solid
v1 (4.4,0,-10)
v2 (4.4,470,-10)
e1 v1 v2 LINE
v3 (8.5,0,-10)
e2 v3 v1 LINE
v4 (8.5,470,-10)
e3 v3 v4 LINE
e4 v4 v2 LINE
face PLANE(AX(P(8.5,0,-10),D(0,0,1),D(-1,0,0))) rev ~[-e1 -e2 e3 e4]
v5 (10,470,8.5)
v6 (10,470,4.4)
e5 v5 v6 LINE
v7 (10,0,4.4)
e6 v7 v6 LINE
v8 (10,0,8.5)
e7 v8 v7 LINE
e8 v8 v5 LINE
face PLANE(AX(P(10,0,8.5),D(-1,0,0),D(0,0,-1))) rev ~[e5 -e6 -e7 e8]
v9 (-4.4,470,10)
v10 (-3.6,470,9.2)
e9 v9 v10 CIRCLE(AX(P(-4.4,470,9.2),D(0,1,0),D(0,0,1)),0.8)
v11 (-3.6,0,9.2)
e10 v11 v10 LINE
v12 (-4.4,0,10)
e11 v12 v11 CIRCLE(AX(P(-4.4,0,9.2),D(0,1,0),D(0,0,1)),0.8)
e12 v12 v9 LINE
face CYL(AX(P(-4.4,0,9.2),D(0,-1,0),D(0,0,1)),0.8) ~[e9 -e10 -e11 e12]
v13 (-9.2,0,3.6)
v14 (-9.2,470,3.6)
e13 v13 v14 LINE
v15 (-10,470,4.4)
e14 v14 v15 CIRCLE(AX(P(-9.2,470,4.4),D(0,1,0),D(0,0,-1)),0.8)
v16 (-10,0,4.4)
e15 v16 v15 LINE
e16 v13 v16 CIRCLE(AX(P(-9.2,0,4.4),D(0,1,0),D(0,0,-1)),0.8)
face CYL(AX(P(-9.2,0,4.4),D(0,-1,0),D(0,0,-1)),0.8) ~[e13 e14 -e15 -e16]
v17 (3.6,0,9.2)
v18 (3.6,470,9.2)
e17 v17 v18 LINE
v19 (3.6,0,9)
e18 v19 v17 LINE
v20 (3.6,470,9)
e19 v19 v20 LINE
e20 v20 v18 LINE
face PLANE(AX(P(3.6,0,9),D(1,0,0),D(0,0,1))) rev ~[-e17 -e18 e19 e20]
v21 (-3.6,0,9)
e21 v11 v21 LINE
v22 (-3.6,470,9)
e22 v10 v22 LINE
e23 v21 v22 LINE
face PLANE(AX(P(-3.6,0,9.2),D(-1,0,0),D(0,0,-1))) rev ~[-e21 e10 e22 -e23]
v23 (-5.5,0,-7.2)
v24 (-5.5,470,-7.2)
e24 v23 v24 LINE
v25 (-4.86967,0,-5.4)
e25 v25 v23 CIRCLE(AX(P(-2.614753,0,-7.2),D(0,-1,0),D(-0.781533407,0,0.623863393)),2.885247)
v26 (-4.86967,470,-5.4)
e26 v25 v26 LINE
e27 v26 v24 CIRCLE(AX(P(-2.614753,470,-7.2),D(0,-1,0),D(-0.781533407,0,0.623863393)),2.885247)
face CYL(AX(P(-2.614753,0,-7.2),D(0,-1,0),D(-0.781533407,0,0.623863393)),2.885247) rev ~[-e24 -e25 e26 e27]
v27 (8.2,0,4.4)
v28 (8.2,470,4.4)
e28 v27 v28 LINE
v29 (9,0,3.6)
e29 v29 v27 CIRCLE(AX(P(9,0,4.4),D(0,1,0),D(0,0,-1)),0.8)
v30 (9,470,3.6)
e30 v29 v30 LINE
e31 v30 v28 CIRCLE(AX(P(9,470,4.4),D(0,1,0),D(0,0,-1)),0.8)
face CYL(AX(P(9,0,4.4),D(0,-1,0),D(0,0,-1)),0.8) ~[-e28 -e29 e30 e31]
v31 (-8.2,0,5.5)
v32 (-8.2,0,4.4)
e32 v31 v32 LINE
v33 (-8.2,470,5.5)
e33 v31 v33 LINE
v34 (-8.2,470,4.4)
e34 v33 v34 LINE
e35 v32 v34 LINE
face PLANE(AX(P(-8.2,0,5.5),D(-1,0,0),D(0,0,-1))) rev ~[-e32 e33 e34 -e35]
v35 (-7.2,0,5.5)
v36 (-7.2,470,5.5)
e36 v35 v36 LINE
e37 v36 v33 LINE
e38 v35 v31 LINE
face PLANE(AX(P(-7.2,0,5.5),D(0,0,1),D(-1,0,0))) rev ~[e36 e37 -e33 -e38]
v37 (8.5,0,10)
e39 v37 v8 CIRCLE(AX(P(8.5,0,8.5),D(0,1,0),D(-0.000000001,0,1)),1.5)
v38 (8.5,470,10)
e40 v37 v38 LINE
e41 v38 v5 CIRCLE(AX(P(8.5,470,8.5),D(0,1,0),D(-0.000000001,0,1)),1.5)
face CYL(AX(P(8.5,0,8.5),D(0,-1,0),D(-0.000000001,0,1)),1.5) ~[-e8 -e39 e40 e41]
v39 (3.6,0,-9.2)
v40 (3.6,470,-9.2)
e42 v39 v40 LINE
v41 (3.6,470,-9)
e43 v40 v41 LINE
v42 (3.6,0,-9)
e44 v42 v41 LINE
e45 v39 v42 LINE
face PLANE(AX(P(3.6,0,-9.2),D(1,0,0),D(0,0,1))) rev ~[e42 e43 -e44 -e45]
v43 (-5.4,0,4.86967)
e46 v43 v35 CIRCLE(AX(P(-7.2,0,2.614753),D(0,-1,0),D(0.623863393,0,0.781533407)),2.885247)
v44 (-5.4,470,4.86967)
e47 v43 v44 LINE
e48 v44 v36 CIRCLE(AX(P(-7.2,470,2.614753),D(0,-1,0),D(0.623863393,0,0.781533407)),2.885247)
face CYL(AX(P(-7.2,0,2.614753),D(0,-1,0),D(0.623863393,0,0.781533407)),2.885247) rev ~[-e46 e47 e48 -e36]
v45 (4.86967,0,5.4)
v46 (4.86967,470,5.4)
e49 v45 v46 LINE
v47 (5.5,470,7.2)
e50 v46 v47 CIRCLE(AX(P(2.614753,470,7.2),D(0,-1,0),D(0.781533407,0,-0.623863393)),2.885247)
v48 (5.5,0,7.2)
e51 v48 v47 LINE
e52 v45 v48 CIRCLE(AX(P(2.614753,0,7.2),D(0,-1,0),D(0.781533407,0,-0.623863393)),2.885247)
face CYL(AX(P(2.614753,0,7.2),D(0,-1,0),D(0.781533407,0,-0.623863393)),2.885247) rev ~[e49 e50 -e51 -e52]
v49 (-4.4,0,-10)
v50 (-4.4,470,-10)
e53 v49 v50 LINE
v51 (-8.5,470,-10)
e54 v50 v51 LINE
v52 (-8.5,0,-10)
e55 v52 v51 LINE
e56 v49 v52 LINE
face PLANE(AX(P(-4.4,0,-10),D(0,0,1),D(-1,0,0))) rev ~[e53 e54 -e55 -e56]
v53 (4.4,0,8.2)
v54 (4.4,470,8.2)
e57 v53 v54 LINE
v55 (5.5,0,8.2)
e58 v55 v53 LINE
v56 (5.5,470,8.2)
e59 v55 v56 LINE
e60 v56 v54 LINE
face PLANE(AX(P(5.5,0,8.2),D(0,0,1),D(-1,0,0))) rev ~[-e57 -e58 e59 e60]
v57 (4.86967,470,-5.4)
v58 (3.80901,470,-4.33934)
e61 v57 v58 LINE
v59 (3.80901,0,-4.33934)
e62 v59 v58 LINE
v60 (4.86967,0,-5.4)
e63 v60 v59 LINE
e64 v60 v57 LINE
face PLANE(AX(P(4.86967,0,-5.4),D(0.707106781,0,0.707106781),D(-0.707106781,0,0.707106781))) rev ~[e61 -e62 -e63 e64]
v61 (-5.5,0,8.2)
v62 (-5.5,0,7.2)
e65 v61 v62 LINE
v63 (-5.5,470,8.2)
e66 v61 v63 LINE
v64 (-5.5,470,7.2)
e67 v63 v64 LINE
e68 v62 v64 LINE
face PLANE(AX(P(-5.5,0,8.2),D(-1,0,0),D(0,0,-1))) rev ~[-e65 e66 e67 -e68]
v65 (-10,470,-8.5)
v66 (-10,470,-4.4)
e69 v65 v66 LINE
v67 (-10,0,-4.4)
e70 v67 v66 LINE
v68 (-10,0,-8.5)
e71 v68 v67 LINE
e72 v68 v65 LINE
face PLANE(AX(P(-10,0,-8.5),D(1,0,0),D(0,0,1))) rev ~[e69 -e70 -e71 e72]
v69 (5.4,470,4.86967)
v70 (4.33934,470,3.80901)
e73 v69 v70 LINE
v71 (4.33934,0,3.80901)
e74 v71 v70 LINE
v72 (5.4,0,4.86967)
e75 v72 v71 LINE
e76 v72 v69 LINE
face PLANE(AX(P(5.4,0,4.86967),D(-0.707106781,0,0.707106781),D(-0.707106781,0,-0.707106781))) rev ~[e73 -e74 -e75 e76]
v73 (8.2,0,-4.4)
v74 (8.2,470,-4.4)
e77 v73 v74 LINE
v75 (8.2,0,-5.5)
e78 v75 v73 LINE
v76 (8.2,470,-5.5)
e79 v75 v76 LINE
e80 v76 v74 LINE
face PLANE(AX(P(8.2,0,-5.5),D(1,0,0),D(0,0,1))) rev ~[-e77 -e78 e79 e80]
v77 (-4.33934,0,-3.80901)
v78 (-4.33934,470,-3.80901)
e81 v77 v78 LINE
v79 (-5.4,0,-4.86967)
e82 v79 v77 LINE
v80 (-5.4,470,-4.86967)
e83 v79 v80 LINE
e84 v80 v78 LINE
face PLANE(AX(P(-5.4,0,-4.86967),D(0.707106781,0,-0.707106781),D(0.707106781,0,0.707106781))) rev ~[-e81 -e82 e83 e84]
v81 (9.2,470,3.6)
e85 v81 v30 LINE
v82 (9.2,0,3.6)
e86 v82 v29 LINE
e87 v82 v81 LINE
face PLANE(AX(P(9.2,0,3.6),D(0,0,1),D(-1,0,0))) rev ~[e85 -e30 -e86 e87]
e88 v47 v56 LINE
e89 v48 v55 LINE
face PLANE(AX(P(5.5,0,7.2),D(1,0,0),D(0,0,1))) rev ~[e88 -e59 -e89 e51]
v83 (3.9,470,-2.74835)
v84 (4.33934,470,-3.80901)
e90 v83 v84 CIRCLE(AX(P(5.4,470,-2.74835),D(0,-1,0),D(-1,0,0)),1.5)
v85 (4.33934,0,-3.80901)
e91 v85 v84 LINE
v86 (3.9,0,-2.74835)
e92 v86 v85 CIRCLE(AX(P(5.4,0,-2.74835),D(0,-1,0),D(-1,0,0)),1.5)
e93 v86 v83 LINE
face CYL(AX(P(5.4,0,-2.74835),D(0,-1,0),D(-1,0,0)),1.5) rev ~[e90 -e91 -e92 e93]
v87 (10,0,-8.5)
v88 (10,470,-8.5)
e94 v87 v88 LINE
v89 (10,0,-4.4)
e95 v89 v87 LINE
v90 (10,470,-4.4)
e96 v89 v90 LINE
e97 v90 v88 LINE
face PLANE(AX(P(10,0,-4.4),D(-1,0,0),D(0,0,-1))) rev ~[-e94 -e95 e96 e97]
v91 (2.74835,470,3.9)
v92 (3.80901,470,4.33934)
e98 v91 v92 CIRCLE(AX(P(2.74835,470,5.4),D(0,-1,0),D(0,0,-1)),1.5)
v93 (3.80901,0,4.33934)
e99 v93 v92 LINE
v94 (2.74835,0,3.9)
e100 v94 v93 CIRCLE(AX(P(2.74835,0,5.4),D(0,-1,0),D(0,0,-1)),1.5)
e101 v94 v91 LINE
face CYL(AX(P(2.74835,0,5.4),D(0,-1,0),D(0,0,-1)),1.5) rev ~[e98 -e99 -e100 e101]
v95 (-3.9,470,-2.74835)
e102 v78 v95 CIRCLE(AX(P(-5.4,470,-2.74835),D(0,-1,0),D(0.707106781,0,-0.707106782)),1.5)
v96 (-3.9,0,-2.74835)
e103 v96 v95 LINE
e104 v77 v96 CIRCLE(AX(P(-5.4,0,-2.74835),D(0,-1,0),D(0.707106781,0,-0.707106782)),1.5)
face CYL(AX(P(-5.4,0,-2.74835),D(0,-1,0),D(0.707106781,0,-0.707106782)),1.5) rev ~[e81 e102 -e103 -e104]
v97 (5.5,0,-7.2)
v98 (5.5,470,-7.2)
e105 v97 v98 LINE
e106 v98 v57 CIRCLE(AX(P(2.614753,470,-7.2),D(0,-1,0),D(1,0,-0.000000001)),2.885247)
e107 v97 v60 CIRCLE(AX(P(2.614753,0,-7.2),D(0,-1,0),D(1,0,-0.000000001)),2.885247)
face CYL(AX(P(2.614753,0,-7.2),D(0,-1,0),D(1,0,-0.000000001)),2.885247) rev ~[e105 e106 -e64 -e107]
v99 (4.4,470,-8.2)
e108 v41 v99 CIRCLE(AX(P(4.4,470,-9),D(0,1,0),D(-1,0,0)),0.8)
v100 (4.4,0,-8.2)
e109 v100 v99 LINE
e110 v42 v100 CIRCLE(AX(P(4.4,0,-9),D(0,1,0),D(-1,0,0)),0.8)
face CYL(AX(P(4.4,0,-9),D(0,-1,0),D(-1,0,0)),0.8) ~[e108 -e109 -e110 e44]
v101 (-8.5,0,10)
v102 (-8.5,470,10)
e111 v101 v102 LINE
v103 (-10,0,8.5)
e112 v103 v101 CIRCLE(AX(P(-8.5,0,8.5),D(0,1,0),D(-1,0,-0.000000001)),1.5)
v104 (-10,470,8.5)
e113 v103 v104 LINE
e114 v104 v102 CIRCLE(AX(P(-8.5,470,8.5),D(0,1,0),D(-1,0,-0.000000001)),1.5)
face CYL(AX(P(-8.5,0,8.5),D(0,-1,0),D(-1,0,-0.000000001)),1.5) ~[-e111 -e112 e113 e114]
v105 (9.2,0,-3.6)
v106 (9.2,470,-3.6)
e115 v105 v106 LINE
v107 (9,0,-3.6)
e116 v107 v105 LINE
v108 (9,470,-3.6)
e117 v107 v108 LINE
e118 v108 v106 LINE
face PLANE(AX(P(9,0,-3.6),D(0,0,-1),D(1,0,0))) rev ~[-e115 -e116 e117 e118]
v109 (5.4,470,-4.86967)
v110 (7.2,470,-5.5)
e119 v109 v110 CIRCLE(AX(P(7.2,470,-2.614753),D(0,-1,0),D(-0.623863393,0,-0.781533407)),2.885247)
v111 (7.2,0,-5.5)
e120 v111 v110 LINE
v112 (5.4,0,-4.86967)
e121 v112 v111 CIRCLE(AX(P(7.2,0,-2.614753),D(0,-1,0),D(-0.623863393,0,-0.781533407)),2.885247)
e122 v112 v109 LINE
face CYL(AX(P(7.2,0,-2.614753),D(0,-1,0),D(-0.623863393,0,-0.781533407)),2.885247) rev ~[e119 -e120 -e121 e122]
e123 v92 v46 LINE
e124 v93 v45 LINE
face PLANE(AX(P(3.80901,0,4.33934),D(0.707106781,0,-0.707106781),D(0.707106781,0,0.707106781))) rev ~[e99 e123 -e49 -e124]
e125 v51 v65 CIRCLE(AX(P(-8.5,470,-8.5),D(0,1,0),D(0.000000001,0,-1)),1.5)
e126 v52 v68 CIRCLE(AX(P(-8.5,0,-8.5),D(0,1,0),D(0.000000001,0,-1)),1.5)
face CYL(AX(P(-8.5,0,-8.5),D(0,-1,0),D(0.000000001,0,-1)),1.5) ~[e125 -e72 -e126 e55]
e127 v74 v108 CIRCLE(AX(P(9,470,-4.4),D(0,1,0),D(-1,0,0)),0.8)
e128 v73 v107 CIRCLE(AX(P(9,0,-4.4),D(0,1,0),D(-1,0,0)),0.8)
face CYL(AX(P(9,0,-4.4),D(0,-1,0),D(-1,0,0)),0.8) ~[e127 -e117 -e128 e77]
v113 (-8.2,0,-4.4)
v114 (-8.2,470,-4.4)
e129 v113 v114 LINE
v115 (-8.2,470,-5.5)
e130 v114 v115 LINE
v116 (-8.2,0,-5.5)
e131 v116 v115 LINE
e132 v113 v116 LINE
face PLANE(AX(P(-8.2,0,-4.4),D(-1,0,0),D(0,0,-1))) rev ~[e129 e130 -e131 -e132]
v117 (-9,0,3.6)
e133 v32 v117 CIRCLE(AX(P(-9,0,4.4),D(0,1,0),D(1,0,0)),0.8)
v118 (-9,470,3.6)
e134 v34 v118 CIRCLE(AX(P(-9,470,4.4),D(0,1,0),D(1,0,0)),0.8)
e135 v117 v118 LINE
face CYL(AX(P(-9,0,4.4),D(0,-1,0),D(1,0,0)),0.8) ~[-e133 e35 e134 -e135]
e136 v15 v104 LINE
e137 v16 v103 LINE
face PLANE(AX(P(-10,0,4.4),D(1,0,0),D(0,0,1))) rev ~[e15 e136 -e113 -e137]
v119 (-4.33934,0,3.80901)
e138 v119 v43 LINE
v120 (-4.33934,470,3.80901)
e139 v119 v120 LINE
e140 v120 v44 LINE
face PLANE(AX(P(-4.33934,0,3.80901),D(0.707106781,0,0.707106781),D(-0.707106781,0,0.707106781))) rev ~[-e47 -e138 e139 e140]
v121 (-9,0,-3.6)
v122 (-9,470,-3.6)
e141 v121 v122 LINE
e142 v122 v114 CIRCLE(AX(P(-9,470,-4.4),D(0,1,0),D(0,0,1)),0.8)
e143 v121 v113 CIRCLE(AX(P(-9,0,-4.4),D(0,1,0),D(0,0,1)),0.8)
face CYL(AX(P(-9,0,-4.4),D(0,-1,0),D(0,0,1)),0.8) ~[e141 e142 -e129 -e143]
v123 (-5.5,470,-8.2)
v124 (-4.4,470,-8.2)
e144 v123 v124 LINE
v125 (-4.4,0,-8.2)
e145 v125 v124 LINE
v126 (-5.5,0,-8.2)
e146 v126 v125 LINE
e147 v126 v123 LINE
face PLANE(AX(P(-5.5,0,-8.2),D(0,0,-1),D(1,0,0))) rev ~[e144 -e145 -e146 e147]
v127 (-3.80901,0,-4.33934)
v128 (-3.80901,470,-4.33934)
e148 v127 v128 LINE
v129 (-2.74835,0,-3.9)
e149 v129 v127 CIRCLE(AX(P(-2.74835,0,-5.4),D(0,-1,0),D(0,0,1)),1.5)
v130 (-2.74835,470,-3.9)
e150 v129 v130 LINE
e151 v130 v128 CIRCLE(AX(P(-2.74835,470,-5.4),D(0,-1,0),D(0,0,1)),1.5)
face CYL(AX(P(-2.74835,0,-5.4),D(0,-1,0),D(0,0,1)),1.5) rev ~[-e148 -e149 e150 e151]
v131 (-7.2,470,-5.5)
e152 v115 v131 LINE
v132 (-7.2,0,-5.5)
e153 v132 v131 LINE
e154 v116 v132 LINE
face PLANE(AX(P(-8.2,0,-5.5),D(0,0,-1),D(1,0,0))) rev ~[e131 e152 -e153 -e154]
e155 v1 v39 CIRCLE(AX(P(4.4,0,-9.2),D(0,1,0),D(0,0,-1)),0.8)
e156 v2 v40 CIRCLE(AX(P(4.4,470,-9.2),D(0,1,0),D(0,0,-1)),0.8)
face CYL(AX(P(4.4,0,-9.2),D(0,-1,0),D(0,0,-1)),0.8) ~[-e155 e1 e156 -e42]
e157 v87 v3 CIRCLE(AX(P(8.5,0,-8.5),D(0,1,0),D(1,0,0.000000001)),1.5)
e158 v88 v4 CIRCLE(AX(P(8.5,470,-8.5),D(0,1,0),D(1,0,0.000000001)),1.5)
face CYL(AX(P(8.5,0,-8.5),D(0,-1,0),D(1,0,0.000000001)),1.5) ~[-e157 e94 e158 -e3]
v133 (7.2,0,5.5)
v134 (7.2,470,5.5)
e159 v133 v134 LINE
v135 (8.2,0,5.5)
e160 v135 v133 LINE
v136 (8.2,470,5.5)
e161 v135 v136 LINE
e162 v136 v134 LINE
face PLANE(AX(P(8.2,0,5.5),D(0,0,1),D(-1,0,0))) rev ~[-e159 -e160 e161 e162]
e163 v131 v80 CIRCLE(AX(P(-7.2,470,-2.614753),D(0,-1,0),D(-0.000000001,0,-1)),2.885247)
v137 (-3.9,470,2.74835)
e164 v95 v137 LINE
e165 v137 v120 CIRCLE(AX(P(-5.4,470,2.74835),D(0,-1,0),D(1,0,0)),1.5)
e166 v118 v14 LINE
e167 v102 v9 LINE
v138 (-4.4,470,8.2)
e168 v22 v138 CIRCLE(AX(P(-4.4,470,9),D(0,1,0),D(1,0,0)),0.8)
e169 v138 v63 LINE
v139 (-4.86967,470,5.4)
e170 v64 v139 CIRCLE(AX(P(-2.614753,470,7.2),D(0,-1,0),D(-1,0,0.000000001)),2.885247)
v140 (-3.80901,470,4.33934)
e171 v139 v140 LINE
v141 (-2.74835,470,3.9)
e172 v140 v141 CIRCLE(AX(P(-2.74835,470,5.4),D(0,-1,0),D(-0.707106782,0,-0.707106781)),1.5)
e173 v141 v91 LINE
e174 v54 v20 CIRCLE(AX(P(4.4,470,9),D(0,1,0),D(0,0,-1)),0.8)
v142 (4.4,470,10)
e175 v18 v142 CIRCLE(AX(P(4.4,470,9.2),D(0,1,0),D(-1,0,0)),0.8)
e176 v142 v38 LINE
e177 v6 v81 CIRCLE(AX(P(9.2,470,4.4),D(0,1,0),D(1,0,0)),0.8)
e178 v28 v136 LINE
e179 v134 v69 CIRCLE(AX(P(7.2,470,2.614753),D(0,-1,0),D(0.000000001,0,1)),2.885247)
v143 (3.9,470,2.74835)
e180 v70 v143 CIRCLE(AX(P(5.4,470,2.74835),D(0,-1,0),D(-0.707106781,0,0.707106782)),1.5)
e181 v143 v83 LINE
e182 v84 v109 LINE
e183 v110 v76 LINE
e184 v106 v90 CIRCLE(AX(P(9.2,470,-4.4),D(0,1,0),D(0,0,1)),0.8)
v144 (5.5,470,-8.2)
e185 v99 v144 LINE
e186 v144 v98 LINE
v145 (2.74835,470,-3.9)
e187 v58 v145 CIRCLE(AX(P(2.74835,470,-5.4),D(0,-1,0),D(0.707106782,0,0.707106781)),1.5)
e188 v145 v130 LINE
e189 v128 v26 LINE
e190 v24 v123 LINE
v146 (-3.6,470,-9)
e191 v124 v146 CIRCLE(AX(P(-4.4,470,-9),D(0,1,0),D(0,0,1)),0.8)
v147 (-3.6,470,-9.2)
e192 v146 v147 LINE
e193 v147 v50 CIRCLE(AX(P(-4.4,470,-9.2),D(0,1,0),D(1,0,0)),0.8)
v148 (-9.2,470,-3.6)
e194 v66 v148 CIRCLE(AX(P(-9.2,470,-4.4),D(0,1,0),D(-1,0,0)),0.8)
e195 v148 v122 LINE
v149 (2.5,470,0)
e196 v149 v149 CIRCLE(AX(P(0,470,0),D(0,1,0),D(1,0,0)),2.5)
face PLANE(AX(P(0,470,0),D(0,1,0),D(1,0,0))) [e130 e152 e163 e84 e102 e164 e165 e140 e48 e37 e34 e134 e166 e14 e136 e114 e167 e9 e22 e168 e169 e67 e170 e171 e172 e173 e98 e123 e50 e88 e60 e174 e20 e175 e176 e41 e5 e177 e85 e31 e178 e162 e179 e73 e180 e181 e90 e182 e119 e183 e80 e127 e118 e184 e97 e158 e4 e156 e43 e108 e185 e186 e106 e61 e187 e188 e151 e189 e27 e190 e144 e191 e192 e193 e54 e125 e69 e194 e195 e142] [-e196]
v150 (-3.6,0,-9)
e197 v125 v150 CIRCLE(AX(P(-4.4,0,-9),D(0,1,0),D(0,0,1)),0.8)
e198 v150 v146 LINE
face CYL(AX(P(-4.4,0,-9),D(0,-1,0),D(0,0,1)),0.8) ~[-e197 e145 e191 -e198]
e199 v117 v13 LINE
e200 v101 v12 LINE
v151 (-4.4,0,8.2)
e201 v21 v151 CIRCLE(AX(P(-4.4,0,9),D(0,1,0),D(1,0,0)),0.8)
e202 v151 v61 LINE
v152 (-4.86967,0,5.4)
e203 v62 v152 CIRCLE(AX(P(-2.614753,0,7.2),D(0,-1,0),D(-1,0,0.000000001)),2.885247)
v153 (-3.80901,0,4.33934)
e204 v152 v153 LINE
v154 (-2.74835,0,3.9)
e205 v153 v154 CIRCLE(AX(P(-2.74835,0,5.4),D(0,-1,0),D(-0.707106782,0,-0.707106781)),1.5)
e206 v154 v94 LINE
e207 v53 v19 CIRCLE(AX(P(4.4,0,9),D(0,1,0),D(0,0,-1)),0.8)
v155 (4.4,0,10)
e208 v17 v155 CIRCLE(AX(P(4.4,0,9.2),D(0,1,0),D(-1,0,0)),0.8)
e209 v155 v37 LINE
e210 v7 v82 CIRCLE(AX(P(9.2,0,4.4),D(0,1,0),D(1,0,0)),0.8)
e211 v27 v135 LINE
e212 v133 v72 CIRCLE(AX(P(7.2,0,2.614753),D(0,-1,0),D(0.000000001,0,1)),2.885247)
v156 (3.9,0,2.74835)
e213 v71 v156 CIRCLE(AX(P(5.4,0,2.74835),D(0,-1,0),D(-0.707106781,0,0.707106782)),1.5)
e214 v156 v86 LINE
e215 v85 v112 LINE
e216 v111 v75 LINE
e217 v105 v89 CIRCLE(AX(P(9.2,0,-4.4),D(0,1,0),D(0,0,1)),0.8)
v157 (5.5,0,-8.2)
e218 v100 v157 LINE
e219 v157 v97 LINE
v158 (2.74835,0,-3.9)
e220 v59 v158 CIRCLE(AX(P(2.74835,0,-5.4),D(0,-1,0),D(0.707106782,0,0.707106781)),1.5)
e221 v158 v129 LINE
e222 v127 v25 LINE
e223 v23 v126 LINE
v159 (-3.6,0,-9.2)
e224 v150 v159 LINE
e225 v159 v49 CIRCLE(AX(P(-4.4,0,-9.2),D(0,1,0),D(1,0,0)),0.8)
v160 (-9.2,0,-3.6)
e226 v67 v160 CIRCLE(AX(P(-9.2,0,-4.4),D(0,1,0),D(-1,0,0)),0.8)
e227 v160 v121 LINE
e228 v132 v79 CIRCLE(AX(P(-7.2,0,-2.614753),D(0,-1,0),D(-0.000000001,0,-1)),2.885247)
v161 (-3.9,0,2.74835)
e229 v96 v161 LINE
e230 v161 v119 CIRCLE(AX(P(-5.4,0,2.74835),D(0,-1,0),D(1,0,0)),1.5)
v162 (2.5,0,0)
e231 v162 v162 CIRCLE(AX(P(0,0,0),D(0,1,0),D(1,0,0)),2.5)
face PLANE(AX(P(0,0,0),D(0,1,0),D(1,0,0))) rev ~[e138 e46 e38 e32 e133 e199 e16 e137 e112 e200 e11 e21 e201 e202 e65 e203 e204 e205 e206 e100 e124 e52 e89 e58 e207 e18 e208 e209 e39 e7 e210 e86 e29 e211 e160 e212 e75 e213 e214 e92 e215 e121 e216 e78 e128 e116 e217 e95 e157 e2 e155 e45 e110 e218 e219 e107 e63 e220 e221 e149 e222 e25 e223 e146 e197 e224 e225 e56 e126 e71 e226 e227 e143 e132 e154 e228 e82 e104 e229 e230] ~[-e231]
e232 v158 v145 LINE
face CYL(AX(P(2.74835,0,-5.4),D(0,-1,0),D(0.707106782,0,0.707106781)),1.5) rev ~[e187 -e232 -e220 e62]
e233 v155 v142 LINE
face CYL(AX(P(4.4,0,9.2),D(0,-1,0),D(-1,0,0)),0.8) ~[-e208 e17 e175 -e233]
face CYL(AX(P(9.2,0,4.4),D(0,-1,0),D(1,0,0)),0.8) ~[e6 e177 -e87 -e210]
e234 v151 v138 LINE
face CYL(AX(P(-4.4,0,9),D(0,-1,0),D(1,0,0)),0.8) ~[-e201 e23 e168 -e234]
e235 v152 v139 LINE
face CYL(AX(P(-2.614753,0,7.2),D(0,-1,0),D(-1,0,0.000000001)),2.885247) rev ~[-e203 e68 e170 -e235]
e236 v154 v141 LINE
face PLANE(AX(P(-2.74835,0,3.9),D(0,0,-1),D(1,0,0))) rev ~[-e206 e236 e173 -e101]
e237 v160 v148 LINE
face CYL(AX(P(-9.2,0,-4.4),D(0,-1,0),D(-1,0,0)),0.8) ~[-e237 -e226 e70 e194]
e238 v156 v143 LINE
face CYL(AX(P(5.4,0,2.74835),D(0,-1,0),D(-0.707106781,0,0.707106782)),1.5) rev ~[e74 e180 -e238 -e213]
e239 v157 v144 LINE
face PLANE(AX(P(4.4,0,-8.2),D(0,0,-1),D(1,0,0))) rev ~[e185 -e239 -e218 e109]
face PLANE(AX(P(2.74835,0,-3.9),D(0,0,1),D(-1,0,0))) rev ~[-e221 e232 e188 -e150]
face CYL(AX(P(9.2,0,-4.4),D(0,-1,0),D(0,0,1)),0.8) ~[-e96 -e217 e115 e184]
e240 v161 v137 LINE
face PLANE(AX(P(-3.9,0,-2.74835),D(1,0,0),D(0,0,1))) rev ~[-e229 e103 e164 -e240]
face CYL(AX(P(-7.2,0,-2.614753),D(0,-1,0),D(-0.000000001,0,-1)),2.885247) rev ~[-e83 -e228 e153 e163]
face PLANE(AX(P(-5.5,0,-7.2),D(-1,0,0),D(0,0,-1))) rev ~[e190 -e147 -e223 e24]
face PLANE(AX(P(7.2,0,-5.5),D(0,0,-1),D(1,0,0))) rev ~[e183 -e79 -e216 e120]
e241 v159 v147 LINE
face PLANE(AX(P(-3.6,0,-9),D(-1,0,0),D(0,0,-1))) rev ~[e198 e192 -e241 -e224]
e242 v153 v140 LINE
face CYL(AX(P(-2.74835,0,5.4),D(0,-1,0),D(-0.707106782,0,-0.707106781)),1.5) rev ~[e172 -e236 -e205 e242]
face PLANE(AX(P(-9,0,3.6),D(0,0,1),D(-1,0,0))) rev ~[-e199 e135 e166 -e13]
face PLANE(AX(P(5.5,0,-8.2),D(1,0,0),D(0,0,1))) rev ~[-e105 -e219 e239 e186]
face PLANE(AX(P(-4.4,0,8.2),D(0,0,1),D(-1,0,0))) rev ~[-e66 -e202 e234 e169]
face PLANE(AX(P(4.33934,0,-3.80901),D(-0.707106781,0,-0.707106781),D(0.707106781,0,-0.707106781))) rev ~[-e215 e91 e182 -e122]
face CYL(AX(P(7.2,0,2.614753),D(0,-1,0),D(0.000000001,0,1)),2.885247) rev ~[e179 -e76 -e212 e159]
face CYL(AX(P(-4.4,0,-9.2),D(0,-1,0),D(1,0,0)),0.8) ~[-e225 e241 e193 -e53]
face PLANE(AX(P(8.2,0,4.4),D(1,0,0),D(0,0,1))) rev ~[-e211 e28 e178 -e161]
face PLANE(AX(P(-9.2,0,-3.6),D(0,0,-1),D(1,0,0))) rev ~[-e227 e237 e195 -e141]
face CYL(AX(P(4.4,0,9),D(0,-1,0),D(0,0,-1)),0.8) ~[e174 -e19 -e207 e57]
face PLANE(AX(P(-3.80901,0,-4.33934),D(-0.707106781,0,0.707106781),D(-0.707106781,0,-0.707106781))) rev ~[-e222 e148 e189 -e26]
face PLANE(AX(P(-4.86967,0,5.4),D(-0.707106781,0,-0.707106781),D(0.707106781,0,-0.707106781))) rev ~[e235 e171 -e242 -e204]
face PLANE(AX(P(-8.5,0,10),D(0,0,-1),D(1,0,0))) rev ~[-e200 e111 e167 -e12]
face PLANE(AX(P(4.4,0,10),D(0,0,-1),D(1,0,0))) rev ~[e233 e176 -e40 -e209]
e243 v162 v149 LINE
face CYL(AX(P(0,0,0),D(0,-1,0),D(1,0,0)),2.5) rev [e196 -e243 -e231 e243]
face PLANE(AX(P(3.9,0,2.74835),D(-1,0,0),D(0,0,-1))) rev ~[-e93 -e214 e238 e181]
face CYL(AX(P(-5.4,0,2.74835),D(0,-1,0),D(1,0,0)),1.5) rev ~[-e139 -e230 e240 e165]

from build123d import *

# Parameters (mm, degrees)
SKETCH2_R           = 2.5
BOSS_EXTRUDE1_DEPTH = 470


with BuildPart() as part:
    # Sketch2 → Boss-Extrude1 (new body)
    with BuildSketch(Plane(origin=(0, 0, 0), x_dir=(1, 0, 0), z_dir=(0, 1, 0))):
        with BuildLine():
            Line((-5.4, 4.869669914), (-4.339339828, 3.809009742))
            ThreePointArc((-4.339339828, 3.809009742), (-4.014180701, 3.322374719), (-3.9, 2.748349571))
            Line((-3.9, 2.748349571), (-3.9, -2.748349571))
            ThreePointArc((-3.9, -2.748349571), (-4.014180701, -3.322374719), (-4.339339828, -3.809009742))
            Line((-4.339339828, -3.809009742), (-5.4, -4.869669914))
            ThreePointArc((-5.4, -4.869669914), (-6.246412561, -5.337861749), (-7.2, -5.5))
            Line((-7.2, -5.5), (-8.2, -5.5))
            Line((-8.2, -5.5), (-8.2, -4.4))
            ThreePointArc((-8.2, -4.4), (-8.434314575, -3.834314575), (-9, -3.6))
            Line((-9, -3.6), (-9.2, -3.6))
            ThreePointArc((-9.2, -3.6), (-9.765685425, -3.834314575), (-10, -4.4))
            Line((-10, -4.4), (-10, -8.5))
            ThreePointArc((-10, -8.5), (-9.560660172, -9.560660172), (-8.5, -10))
            Line((-8.5, -10), (-4.4, -10))
            ThreePointArc((-4.4, -10), (-3.834314575, -9.765685425), (-3.6, -9.2))
            Line((-3.6, -9.2), (-3.6, -9))
            ThreePointArc((-3.6, -9), (-3.834314575, -8.434314575), (-4.4, -8.2))
            Line((-4.4, -8.2), (-5.5, -8.2))
            Line((-5.5, -8.2), (-5.5, -7.2))
            ThreePointArc((-5.5, -7.2), (-5.337861749, -6.246412561), (-4.869669914, -5.4))
            Line((-4.869669914, -5.4), (-3.809009742, -4.339339828))
            ThreePointArc((-3.809009742, -4.339339828), (-3.322374719, -4.014180701), (-2.748349571, -3.9))
            Line((-2.748349571, -3.9), (2.748349571, -3.9))
            ThreePointArc((2.748349571, -3.9), (3.322374719, -4.014180701), (3.809009742, -4.339339828))
            Line((3.809009742, -4.339339828), (4.869669914, -5.4))
            ThreePointArc((4.869669914, -5.4), (5.337861749, -6.246412561), (5.5, -7.2))
            Line((5.5, -7.2), (5.5, -8.2))
            Line((5.5, -8.2), (4.4, -8.2))
            ThreePointArc((4.4, -8.2), (3.834314575, -8.434314575), (3.6, -9))
            Line((3.6, -9), (3.6, -9.2))
            ThreePointArc((3.6, -9.2), (3.834314575, -9.765685425), (4.4, -10))
            Line((4.4, -10), (8.5, -10))
            ThreePointArc((8.5, -10), (9.560660172, -9.560660172), (10, -8.5))
            Line((10, -8.5), (10, -4.4))
            ThreePointArc((10, -4.4), (9.765685425, -3.834314575), (9.2, -3.6))
            Line((9.2, -3.6), (9, -3.6))
            ThreePointArc((9, -3.6), (8.434314575, -3.834314575), (8.2, -4.4))
            Line((8.2, -4.4), (8.2, -5.5))
            Line((8.2, -5.5), (7.2, -5.5))
            ThreePointArc((7.2, -5.5), (6.246412561, -5.337861749), (5.4, -4.869669914))
            Line((5.4, -4.869669914), (4.339339828, -3.809009742))
            ThreePointArc((4.339339828, -3.809009742), (4.014180701, -3.322374719), (3.9, -2.748349571))
            Line((3.9, -2.748349571), (3.9, 2.748349571))
            ThreePointArc((3.9, 2.748349571), (4.014180701, 3.322374719), (4.339339828, 3.809009742))
            Line((4.339339828, 3.809009742), (5.4, 4.869669914))
            ThreePointArc((5.4, 4.869669914), (6.246412561, 5.337861749), (7.2, 5.5))
            Line((7.2, 5.5), (8.2, 5.5))
            Line((8.2, 5.5), (8.2, 4.4))
            ThreePointArc((8.2, 4.4), (8.434314575, 3.834314575), (9, 3.6))
            Line((9, 3.6), (9.2, 3.6))
            ThreePointArc((9.2, 3.6), (9.765685425, 3.834314575), (10, 4.4))
            Line((10, 4.4), (10, 8.5))
            ThreePointArc((10, 8.5), (9.560660172, 9.560660172), (8.5, 10))
            Line((8.5, 10), (4.4, 10))
            ThreePointArc((4.4, 10), (3.834314575, 9.765685425), (3.6, 9.2))
            Line((3.6, 9.2), (3.6, 9))
            ThreePointArc((3.6, 9), (3.834314575, 8.434314575), (4.4, 8.2))
            Line((4.4, 8.2), (5.5, 8.2))
            Line((5.5, 8.2), (5.5, 7.2))
            ThreePointArc((5.5, 7.2), (5.337861749, 6.246412561), (4.869669914, 5.4))
            Line((4.869669914, 5.4), (3.809009742, 4.339339828))
            ThreePointArc((3.809009742, 4.339339828), (3.322374719, 4.014180701), (2.748349571, 3.9))
            Line((2.748349571, 3.9), (-2.748349571, 3.9))
            ThreePointArc((-2.748349571, 3.9), (-3.322374719, 4.014180701), (-3.809009742, 4.339339828))
            Line((-3.809009742, 4.339339828), (-4.869669914, 5.4))
            ThreePointArc((-4.869669914, 5.4), (-5.337861749, 6.246412561), (-5.5, 7.2))
            Line((-5.5, 7.2), (-5.5, 8.2))
            Line((-5.5, 8.2), (-4.4, 8.2))
            ThreePointArc((-4.4, 8.2), (-3.834314575, 8.434314575), (-3.6, 9))
            Line((-3.6, 9), (-3.6, 9.2))
            ThreePointArc((-3.6, 9.2), (-3.834314575, 9.765685425), (-4.4, 10))
            Line((-4.4, 10), (-8.5, 10))
            ThreePointArc((-8.5, 10), (-9.560660172, 9.560660172), (-10, 8.5))
            Line((-10, 8.5), (-10, 4.4))
            ThreePointArc((-10, 4.4), (-9.765685425, 3.834314575), (-9.2, 3.6))
            Line((-9.2, 3.6), (-9, 3.6))
            ThreePointArc((-9, 3.6), (-8.434314575, 3.834314575), (-8.2, 4.4))
            Line((-8.2, 4.4), (-8.2, 5.5))
            Line((-8.2, 5.5), (-7.2, 5.5))
            ThreePointArc((-7.2, 5.5), (-6.246412561, 5.337861749), (-5.4, 4.869669914))
        make_face()
        Circle(SKETCH2_R, mode=Mode.SUBTRACT)
    extrude(amount=BOSS_EXTRUDE1_DEPTH)


solid = part.part
